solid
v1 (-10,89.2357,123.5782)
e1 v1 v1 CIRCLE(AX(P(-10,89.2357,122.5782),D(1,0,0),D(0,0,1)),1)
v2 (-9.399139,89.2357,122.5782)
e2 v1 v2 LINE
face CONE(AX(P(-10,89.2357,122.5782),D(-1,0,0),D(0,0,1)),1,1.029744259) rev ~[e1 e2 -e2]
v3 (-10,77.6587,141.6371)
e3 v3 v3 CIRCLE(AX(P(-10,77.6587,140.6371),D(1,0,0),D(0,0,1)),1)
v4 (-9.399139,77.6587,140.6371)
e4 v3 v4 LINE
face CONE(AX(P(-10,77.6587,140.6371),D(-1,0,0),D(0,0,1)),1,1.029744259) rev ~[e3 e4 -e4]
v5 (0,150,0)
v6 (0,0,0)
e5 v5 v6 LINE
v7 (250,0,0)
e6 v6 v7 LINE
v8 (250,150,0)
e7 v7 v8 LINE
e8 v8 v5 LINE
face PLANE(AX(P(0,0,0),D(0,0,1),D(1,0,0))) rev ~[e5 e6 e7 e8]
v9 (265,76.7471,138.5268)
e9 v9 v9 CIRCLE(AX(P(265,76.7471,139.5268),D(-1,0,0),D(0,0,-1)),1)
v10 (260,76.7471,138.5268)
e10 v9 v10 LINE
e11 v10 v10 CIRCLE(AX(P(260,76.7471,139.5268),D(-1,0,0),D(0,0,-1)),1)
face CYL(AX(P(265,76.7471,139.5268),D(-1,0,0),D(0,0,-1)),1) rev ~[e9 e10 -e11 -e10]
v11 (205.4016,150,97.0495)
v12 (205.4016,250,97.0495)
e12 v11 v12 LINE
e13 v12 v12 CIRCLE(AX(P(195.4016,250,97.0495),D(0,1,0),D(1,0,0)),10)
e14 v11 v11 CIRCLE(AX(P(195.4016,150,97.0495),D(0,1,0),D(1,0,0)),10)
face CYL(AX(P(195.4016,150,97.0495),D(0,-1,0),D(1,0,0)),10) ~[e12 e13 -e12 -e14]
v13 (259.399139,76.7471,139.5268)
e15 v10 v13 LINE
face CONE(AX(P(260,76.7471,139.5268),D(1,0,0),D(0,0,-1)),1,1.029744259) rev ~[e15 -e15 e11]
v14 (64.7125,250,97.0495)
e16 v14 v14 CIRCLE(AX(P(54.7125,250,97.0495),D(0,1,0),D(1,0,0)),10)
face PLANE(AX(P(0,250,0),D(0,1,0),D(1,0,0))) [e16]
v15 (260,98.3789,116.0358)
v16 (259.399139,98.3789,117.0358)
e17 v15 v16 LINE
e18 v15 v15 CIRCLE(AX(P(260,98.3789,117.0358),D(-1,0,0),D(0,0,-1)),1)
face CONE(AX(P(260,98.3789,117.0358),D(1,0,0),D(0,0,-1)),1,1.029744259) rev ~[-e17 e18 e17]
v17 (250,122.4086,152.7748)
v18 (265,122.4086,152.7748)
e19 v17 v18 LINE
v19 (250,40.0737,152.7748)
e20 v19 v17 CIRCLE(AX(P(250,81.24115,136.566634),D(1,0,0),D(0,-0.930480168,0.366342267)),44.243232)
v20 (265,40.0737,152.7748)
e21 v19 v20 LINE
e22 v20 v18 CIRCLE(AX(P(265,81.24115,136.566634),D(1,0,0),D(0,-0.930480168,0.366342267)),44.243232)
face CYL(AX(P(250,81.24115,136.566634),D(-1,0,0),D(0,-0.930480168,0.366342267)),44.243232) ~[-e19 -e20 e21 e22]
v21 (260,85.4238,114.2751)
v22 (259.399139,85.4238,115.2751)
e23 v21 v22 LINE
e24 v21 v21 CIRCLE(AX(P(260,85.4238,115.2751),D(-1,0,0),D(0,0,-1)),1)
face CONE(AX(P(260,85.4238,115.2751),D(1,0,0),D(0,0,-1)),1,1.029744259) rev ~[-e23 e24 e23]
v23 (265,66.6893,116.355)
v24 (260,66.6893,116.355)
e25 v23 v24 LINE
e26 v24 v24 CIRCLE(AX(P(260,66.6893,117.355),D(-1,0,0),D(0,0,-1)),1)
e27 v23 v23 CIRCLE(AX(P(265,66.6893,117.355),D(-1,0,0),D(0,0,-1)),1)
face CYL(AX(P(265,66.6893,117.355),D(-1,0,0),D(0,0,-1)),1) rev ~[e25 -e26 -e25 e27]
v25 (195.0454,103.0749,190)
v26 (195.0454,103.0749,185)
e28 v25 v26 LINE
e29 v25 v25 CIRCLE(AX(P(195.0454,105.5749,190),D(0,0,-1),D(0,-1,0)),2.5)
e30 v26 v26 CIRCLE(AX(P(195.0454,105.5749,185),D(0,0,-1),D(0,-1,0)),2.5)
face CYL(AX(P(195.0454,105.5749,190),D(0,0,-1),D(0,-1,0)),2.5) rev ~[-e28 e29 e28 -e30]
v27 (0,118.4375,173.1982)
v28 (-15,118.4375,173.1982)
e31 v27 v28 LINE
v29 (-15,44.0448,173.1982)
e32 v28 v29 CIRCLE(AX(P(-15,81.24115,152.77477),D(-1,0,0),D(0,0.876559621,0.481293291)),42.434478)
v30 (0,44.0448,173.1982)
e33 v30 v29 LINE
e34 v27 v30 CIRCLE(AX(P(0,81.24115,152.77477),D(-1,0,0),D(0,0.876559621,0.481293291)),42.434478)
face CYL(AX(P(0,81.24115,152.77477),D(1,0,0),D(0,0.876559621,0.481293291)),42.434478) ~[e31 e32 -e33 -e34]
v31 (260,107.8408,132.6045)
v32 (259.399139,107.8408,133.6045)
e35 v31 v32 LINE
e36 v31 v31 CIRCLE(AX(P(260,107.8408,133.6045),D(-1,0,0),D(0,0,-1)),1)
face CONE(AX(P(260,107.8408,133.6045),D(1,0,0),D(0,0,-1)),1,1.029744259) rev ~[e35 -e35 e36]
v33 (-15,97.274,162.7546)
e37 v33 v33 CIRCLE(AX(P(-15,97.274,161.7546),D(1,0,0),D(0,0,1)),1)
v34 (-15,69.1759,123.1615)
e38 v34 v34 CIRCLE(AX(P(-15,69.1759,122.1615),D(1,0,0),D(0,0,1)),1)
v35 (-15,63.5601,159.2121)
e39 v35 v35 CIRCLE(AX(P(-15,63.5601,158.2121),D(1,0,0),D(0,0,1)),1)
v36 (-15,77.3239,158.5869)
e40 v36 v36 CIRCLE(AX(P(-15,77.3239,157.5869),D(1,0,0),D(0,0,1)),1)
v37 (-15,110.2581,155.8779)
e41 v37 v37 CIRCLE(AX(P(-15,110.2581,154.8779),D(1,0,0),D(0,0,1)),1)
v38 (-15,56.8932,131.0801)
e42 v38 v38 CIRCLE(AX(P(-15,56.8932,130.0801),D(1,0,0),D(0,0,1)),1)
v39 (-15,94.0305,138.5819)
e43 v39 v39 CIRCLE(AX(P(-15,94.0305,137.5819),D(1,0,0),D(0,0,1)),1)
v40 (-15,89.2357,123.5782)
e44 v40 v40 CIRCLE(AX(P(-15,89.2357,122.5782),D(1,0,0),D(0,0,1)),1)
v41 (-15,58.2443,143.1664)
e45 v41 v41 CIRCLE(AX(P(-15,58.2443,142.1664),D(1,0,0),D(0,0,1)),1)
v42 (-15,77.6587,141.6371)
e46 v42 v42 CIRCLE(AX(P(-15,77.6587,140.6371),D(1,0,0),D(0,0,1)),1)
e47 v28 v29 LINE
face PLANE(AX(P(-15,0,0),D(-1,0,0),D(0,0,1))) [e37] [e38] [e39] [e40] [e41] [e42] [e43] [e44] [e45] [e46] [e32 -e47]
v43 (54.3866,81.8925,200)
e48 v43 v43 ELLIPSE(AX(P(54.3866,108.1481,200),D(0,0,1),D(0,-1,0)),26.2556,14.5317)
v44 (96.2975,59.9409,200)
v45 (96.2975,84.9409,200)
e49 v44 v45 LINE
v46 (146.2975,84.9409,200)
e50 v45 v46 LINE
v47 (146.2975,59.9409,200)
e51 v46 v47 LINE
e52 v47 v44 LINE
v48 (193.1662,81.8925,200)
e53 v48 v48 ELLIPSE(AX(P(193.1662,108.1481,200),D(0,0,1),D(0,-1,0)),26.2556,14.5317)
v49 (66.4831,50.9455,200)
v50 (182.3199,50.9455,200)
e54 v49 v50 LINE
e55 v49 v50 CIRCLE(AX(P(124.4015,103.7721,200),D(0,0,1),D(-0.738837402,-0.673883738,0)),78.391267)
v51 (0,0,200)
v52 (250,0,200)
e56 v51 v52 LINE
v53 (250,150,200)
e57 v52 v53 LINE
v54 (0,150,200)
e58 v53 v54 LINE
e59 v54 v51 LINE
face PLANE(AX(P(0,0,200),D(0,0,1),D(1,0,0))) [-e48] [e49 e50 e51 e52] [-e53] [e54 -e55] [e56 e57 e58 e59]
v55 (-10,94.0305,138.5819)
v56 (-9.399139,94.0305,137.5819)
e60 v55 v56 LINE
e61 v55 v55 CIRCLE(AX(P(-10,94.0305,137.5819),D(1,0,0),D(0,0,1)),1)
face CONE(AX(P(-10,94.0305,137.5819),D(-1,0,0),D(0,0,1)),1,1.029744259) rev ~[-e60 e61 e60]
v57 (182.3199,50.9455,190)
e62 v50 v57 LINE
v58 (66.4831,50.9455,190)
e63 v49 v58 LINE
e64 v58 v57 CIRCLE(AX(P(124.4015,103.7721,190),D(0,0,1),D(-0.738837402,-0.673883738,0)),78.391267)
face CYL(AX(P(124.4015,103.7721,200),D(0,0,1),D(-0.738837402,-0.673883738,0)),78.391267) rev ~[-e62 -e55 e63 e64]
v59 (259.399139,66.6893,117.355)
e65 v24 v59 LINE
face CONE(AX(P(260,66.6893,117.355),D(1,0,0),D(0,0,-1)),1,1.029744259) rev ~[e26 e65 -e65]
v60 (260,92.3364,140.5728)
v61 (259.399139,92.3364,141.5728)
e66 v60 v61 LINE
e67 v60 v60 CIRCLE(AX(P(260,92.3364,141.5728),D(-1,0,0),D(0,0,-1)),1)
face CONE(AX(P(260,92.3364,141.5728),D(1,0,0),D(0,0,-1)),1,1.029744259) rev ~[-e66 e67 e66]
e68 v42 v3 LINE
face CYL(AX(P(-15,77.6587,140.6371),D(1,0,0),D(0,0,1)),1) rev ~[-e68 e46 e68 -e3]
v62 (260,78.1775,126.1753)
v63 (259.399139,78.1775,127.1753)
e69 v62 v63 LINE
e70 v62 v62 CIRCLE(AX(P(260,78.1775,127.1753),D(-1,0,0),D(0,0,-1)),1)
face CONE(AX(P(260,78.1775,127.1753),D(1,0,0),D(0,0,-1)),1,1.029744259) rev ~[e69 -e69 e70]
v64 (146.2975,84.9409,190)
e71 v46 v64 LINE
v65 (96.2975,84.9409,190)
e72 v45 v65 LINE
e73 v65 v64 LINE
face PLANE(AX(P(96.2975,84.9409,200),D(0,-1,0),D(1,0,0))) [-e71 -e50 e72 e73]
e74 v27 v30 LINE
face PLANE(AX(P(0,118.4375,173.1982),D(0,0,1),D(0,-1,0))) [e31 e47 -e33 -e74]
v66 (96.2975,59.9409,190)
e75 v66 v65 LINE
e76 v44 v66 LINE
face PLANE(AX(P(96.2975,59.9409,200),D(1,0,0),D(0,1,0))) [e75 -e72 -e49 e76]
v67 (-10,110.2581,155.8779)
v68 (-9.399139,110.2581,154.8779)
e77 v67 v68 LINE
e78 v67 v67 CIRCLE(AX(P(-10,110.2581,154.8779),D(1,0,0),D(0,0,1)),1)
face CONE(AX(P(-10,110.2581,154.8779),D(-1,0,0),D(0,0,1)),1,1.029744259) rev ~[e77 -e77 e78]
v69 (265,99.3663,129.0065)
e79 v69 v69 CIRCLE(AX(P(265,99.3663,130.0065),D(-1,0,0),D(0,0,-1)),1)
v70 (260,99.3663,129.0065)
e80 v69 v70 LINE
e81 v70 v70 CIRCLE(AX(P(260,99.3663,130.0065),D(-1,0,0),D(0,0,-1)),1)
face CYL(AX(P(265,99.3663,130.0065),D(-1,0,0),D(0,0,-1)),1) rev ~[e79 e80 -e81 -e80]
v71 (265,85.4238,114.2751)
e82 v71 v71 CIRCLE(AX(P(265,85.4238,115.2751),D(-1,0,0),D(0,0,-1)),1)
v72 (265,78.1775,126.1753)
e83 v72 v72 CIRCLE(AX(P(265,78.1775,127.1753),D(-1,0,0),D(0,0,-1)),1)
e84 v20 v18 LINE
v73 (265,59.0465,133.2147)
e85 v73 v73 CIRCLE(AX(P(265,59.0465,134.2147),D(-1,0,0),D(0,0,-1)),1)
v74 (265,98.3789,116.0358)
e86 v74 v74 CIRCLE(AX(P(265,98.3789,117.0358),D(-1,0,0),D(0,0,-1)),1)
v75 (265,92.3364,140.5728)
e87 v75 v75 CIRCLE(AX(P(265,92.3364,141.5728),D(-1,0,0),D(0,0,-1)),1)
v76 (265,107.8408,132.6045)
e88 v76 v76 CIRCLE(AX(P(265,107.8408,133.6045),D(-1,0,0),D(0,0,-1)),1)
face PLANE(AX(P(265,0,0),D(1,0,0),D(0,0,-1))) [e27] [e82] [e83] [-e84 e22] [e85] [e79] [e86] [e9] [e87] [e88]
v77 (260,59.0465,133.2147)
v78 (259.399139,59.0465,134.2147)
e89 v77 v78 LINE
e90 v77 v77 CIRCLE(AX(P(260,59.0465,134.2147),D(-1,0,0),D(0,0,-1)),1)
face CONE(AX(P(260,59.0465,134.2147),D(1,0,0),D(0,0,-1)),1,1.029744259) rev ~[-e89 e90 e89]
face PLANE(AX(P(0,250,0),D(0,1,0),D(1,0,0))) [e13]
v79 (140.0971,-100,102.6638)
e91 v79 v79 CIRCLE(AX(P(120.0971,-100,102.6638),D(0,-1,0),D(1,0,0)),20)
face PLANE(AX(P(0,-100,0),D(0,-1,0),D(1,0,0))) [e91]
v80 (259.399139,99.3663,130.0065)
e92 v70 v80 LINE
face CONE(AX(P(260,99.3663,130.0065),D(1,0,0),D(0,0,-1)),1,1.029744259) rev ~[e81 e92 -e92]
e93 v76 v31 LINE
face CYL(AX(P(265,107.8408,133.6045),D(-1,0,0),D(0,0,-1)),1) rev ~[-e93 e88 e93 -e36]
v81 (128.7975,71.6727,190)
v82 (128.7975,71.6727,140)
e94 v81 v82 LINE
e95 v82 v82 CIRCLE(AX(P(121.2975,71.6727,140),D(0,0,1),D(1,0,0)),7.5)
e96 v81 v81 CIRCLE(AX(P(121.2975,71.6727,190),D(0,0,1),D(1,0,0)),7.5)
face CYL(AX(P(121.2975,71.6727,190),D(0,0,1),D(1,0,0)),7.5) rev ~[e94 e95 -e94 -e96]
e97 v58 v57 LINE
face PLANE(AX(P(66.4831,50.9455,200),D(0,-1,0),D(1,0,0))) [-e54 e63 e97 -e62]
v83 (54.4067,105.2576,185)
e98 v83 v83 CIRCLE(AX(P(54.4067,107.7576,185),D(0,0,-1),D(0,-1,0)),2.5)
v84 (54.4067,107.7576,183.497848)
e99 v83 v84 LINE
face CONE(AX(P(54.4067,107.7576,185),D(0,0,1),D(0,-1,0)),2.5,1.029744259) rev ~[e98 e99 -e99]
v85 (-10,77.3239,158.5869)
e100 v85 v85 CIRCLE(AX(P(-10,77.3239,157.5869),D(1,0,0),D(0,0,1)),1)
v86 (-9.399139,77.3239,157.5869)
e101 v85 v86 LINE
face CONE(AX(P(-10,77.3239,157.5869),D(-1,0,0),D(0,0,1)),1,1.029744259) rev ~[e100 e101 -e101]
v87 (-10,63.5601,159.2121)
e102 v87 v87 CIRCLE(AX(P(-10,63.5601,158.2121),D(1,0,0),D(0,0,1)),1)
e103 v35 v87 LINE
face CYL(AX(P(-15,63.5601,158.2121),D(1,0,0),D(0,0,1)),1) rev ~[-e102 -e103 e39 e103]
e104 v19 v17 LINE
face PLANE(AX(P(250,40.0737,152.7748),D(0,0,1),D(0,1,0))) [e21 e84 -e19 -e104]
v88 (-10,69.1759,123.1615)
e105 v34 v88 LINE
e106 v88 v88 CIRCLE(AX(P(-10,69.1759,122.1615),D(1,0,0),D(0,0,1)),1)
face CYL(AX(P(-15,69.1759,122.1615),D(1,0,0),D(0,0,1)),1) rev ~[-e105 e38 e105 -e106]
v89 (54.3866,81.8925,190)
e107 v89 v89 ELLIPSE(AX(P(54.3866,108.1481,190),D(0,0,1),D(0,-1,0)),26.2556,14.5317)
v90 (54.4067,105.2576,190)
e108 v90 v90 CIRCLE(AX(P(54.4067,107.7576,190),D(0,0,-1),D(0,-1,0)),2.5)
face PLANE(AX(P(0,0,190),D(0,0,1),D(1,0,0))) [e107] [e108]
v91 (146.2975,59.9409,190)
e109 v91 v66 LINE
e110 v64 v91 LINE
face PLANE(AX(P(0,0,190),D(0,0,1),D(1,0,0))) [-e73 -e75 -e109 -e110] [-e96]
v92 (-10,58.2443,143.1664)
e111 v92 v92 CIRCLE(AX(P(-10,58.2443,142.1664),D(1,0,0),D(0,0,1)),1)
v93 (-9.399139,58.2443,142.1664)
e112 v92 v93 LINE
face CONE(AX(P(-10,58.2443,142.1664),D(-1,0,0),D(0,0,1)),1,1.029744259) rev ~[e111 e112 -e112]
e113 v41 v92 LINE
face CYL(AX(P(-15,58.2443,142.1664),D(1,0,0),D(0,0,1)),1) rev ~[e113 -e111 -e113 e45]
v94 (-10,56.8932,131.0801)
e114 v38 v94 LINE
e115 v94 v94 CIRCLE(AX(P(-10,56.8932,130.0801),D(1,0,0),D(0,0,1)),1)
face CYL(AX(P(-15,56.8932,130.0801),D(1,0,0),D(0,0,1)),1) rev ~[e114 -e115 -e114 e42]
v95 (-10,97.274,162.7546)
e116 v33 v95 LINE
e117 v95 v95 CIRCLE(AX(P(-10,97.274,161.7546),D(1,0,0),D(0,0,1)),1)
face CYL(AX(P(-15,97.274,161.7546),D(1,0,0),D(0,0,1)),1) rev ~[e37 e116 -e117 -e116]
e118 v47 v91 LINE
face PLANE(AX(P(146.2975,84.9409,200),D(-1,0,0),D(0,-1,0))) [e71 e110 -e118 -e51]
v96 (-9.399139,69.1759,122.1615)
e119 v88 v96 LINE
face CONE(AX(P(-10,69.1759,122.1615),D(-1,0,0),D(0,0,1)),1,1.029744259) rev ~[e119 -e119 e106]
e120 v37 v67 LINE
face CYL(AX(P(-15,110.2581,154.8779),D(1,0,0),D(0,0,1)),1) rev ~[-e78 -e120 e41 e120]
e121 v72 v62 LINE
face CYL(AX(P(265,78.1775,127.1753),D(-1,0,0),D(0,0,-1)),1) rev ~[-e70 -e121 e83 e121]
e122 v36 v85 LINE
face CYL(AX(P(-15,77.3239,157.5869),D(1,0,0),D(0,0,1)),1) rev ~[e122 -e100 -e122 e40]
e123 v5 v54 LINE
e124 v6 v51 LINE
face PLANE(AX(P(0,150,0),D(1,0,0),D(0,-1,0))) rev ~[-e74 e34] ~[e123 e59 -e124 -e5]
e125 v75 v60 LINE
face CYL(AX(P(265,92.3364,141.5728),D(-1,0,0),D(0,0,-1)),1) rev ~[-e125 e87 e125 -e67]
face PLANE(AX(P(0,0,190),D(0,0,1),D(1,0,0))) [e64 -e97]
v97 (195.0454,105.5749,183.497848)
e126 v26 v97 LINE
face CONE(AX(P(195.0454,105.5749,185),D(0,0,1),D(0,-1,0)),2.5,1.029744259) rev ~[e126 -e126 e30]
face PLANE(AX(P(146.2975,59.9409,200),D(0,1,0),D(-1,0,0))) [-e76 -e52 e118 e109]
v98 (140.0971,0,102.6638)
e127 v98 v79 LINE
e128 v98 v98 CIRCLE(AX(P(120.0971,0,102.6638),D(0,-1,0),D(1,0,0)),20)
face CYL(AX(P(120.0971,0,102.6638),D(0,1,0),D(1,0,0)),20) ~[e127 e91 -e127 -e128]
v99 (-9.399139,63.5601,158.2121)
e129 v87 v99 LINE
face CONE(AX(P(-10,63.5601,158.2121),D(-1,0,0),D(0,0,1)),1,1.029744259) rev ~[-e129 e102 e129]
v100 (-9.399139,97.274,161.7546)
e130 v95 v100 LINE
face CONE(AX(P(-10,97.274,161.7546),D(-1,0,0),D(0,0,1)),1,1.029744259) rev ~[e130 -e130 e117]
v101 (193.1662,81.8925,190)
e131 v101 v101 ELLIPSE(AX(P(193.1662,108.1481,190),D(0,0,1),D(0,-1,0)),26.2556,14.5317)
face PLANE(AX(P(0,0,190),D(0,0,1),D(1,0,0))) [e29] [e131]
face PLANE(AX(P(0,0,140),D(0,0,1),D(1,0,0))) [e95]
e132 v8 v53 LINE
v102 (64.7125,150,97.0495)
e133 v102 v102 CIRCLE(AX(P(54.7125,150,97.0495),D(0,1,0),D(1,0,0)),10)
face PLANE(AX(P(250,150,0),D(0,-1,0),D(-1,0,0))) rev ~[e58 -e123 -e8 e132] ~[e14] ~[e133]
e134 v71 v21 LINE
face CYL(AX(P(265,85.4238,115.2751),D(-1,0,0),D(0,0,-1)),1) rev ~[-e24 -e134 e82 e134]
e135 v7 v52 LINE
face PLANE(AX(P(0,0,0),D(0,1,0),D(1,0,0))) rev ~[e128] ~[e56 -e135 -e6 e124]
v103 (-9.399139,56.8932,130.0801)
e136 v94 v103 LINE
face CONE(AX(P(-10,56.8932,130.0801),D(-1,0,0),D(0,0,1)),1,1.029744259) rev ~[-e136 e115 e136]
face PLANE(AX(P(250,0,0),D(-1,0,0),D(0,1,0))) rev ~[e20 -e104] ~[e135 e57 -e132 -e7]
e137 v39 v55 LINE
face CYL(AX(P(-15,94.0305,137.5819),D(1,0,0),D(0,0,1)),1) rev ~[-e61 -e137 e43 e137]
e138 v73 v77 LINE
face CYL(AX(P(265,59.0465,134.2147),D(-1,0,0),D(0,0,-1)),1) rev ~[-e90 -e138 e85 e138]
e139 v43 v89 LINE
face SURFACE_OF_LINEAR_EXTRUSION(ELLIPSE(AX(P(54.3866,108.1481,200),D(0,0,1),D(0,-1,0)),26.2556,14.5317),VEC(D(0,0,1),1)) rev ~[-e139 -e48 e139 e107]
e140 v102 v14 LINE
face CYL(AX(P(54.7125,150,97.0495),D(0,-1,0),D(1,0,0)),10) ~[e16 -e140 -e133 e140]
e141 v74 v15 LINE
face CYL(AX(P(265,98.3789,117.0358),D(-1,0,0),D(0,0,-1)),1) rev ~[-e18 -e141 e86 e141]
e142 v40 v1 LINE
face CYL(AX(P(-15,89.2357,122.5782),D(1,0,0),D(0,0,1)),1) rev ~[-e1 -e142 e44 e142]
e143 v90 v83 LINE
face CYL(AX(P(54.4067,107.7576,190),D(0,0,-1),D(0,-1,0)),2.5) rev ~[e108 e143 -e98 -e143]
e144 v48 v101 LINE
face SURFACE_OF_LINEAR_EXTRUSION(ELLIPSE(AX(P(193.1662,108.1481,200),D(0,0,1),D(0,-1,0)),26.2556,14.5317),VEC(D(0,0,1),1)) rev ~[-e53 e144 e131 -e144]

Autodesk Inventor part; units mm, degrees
ref_plane "YZ Plane" through (0, 0, 0) normal (1, 0, 0) x (0, 1, 0)
ref_plane "XZ Plane" through (0, 0, 0) normal (0, 1, 0) x (-1, 0, 0)
ref_plane "XY Plane" through (0, 0, 0) normal (0, 0, 1) x (1, 0, 0)
sketch "Sketch1" plane through (0, 0, 0) normal (0, 0, 1) x (1, 0, 0)
  line L0 (0, 0) -> (250, 0)
  line L1 (250, 0) -> (250, 150)
  line L2 (250, 150) -> (0, 150)
  line L3 (0, 150) -> (0, 0)
  ellipse E0 centre (61.2005, 103.0437) end of major axis (61.2005, 79.9077) minor radius 20.4496
  ellipse E1 centre (186.6962, 103.0437) end of major axis (186.6962, 79.9077) minor radius 20.4496
  arc A0 (59.086, 49.2762) -> (190.914, 49.2762) centre (125, 119.8778) ccw
  line L4 (59.086, 49.2762) -> (190.914, 49.2762)
extrude "Extrusion1" add sketch "Sketch1" along normal blind 200 contours L3 L2 L1 L0 | E0 | E1 | L4 A0
sketch "Sketch2" plane through (0, 0, 0) normal (0, 0, -1) x (-1, 0, 0)
  point P0 (0, 0)
sketch "Sketch3" plane through (0, 0, 200) normal (0, 0, 1) x (1, 0, 0)
  ellipse E0 centre (54.3866, 108.1481) end of major axis (54.3866, 81.8925) minor radius 14.5317
  ellipse E1 centre (193.1662, 108.1481) end of major axis (193.1662, 81.8925) minor radius 14.5317
  arc A0 (66.4831, 50.9455) -> (182.3199, 50.9455) centre (124.4015, 103.7721) ccw
  line L0 (66.4831, 50.9455) -> (182.3199, 50.9455)
  point P0 (0, 0)
extrude "Extrusion2" cut sketch "Sketch3" against normal blind 10 contours E0
extrude "Extrusion3" cut sketch "Sketch3" against normal blind 10 contours E1
extrude "Extrusion4" cut sketch "Sketch3" against normal blind 10 contours L0 A0
sketch "Sketch4" plane through (250, 0, 0) normal (1, 0, 0) x (0, 0, -1)
  arc A0 (-152.7748, 40.0737) -> (-152.7748, 122.4086) centre (-136.5666, 81.2411) ccw
  line L0 (-152.7748, 40.0737) -> (-152.7748, 122.4086)
  point P0 (0, 0)
extrude "Extrusion5" add sketch "Sketch4" along normal blind 15
sketch "Sketch5" plane through (0, 0, 0) normal (-1, 0, 0) x (0, 0, 1)
  line L0 (152.7748, 40.0737) -> (152.7748, 122.4086) projected
  arc A0 (173.1982, 118.4375) -> (173.1982, 44.0448) centre (152.7748, 81.2411) ccw
  line L1 (173.1982, 118.4375) -> (173.1982, 44.0448)
  point P0 (0, 0)
extrude "Extrusion6" add sketch "Sketch5" along normal blind 15
sketch "Sketch6" plane through (0, 150, 0) normal (0, 1, 0) x (1, 0, 0)
  circle A0 centre (54.7125, -97.0495) radius 10
  circle A1 centre (195.4016, -97.0495) radius 10
  point P0 (0, 0)
  dimension "d14" = 20
  dimension "d15" = 20
extrude "Extrusion7" add sketch "Sketch6" along normal blind 100 contours A0
extrude "Extrusion8" add sketch "Sketch6" along normal blind 100 contours A1
sketch "Sketch7" plane through (0, 0, 0) normal (0, -1, 0) x (1, 0, 0)
  point P0 (0, 0)
sketch "Sketch9" plane through (0, 0, 0) normal (0, -1, 0) x (1, 0, 0)
  circle A0 centre (120.0971, 102.6638) radius 20
  point P0 (0, 0)
  dimension "d20" = 40
extrude "Extrusion9" add sketch "Sketch9" along normal blind 100
sketch "Sketch10" plane through (-15, 0, 0) normal (-1, 0, 0) x (0, 0, 1)
  point P0 (0, 0)
  point P1 (140.6371, 77.6587)
hole "Hole1" at (-15, 77.6587, 140.6371) direction (1, 0, 0) diameter 2 depth 5 tip angle 118
sketch "Sketch11" plane through (-15, 0, 0) normal (-1, 0, 0) x (0, 0, 1)
  point P0 (0, 0)
  point P1 (137.5819, 94.0305)
hole "Hole2" at (-15, 94.0305, 137.5819) direction (1, 0, 0) diameter 2 depth 5 tip angle 118
sketch "Sketch12" plane through (-15, 0, 0) normal (-1, 0, 0) x (0, 0, 1)
  point P0 (0, 0)
  point P1 (161.7546, 97.274)
hole "Hole3" at (-15, 97.274, 161.7546) direction (1, 0, 0) diameter 2 depth 5 tip angle 118
sketch "Sketch13" plane through (-15, 0, 0) normal (-1, 0, 0) x (0, 0, 1)
  point P0 (0, 0)
  point P1 (122.1615, 69.1759)
hole "Hole4" at (-15, 69.1759, 122.1615) direction (1, 0, 0) diameter 2 depth 5 tip angle 118
sketch "Sketch14" plane through (-15, 0, 0) normal (-1, 0, 0) x (0, 0, 1)
  point P0 (0, 0)
  point P1 (142.1664, 58.2443)
hole "Hole5" at (-15, 58.2443, 142.1664) direction (1, 0, 0) diameter 2 depth 5 tip angle 118
sketch "Sketch15" plane through (-15, 0, 0) normal (-1, 0, 0) x (0, 0, 1)
  point P0 (0, 0)
  point P1 (154.8779, 110.2581)
hole "Hole6" at (-15, 110.2581, 154.8779) direction (1, 0, 0) diameter 2 depth 5 tip angle 118
sketch "Sketch16" plane through (-15, 0, 0) normal (-1, 0, 0) x (0, 0, 1)
  point P0 (0, 0)
  point P1 (158.2121, 63.5601)
hole "Hole7" at (-15, 63.5601, 158.2121) direction (1, 0, 0) diameter 2 depth 5 tip angle 118
sketch "Sketch17" plane through (-15, 0, 0) normal (-1, 0, 0) x (0, 0, 1)
  point P0 (0, 0)
  point P1 (157.5869, 77.3239)
hole "Hole8" at (-15, 77.3239, 157.5869) direction (1, 0, 0) diameter 2 depth 5 tip angle 118
sketch "Sketch18" plane through (-15, 0, 0) normal (-1, 0, 0) x (0, 0, 1)
  point P0 (0, 0)
  point P1 (122.5782, 89.2357)
hole "Hole9" at (-15, 89.2357, 122.5782) direction (1, 0, 0) diameter 2 depth 5 tip angle 118
sketch "Sketch19" plane through (-15, 0, 0) normal (-1, 0, 0) x (0, 0, 1)
  point P0 (0, 0)
  point P1 (130.0801, 56.8932)
hole "Hole10" at (-15, 56.8932, 130.0801) direction (1, 0, 0) diameter 2 depth 5 tip angle 118
sketch "Sketch20" plane through (265, 0, 0) normal (1, 0, 0) x (0, 0, -1)
  point P0 (0, 0)
  point P1 (-130.0065, 99.3663)
hole "Hole11" at (265, 99.3663, 130.0065) direction (-1, 0, 0) diameter 2 depth 5 tip angle 118
sketch "Sketch21" plane through (265, 0, 0) normal (1, 0, 0) x (0, 0, -1)
  point P0 (0, 0)
  point P1 (-115.2751, 85.4238)
hole "Hole12" at (265, 85.4238, 115.2751) direction (-1, 0, 0) diameter 2 depth 5 tip angle 118
sketch "Sketch22" plane through (265, 0, 0) normal (1, 0, 0) x (0, 0, -1)
  point P0 (0, 0)
  point P1 (-139.5268, 76.7471)
hole "Hole13" at (265, 76.7471, 139.5268) direction (-1, 0, 0) diameter 2 depth 5 tip angle 118
sketch "Sketch23" plane through (265, 0, 0) normal (1, 0, 0) x (0, 0, -1)
  point P0 (0, 0)
  point P1 (-117.355, 66.6893)
hole "Hole14" at (265, 66.6893, 117.355) direction (-1, 0, 0) diameter 2 depth 5 tip angle 118
sketch "Sketch24" plane through (265, 0, 0) normal (1, 0, 0) x (0, 0, -1)
  point P0 (0, 0)
  point P1 (-117.0358, 98.3789)
hole "Hole15" at (265, 98.3789, 117.0358) direction (-1, 0, 0) diameter 2 depth 5 tip angle 118
sketch "Sketch25" plane through (265, 0, 0) normal (1, 0, 0) x (0, 0, -1)
  point P0 (0, 0)
  point P1 (-134.2147, 59.0465)
hole "Hole16" at (265, 59.0465, 134.2147) direction (-1, 0, 0) diameter 2 depth 5 tip angle 118
sketch "Sketch26" plane through (265, 0, 0) normal (1, 0, 0) x (0, 0, -1)
  point P0 (0, 0)
  point P1 (-127.1753, 78.1775)
hole "Hole17" at (265, 78.1775, 127.1753) direction (-1, 0, 0) diameter 2 depth 5 tip angle 118
sketch "Sketch27" plane through (265, 0, 0) normal (1, 0, 0) x (0, 0, -1)
  point P0 (0, 0)
  point P1 (-141.5728, 92.3364)
hole "Hole18" at (265, 92.3364, 141.5728) direction (-1, 0, 0) diameter 2 depth 5 tip angle 118
sketch "Sketch28" plane through (265, 0, 0) normal (1, 0, 0) x (0, 0, -1)
  point P0 (0, 0)
  point P1 (-133.6045, 107.8408)
hole "Hole19" at (265, 107.8408, 133.6045) direction (-1, 0, 0) diameter 2 depth 5 tip angle 118
sketch "Sketch29" plane through (0, 0, 200) normal (0, 0, 1) x (1, 0, 0)
  line L0 (96.2975, 84.9409) -> (146.2975, 84.9409)
  line L1 (146.2975, 84.9409) -> (146.2975, 59.9409)
  line L2 (146.2975, 59.9409) -> (96.2975, 59.9409)
  line L3 (96.2975, 59.9409) -> (96.2975, 84.9409)
  point P0 (0, 0)
  dimension "d156" = 50
  dimension "d157" = 25
extrude "Extrusion10" cut sketch "Sketch29" against normal blind 10
sketch "Sketch30" plane through (0, 0, 190) normal (0, 0, 1) x (1, 0, 0)
  circle A0 centre (121.2975, 71.6727) radius 7.5
  point P0 (0, 0)
  dimension "d160" = 15
extrude "Extrusion11" cut sketch "Sketch30" against normal blind 50
sketch "Sketch31" plane through (0, 0, 190) normal (0, 0, 1) x (1, 0, 0)
  point P0 (0, 0)
  point P1 (54.4067, 107.7576)
hole "Hole20" at (54.4067, 107.7576, 190) direction (0, 0, -1) diameter 5 depth 5 tip angle 118
sketch "Sketch32" plane through (0, 0, 190) normal (0, 0, 1) x (1, 0, 0)
  point P0 (0, 0)
  point P1 (195.0454, 105.5749)
hole "Hole21" at (195.0454, 105.5749, 190) direction (0, 0, -1) diameter 5 depth 5 tip angle 118
properties part number "head part 2"
